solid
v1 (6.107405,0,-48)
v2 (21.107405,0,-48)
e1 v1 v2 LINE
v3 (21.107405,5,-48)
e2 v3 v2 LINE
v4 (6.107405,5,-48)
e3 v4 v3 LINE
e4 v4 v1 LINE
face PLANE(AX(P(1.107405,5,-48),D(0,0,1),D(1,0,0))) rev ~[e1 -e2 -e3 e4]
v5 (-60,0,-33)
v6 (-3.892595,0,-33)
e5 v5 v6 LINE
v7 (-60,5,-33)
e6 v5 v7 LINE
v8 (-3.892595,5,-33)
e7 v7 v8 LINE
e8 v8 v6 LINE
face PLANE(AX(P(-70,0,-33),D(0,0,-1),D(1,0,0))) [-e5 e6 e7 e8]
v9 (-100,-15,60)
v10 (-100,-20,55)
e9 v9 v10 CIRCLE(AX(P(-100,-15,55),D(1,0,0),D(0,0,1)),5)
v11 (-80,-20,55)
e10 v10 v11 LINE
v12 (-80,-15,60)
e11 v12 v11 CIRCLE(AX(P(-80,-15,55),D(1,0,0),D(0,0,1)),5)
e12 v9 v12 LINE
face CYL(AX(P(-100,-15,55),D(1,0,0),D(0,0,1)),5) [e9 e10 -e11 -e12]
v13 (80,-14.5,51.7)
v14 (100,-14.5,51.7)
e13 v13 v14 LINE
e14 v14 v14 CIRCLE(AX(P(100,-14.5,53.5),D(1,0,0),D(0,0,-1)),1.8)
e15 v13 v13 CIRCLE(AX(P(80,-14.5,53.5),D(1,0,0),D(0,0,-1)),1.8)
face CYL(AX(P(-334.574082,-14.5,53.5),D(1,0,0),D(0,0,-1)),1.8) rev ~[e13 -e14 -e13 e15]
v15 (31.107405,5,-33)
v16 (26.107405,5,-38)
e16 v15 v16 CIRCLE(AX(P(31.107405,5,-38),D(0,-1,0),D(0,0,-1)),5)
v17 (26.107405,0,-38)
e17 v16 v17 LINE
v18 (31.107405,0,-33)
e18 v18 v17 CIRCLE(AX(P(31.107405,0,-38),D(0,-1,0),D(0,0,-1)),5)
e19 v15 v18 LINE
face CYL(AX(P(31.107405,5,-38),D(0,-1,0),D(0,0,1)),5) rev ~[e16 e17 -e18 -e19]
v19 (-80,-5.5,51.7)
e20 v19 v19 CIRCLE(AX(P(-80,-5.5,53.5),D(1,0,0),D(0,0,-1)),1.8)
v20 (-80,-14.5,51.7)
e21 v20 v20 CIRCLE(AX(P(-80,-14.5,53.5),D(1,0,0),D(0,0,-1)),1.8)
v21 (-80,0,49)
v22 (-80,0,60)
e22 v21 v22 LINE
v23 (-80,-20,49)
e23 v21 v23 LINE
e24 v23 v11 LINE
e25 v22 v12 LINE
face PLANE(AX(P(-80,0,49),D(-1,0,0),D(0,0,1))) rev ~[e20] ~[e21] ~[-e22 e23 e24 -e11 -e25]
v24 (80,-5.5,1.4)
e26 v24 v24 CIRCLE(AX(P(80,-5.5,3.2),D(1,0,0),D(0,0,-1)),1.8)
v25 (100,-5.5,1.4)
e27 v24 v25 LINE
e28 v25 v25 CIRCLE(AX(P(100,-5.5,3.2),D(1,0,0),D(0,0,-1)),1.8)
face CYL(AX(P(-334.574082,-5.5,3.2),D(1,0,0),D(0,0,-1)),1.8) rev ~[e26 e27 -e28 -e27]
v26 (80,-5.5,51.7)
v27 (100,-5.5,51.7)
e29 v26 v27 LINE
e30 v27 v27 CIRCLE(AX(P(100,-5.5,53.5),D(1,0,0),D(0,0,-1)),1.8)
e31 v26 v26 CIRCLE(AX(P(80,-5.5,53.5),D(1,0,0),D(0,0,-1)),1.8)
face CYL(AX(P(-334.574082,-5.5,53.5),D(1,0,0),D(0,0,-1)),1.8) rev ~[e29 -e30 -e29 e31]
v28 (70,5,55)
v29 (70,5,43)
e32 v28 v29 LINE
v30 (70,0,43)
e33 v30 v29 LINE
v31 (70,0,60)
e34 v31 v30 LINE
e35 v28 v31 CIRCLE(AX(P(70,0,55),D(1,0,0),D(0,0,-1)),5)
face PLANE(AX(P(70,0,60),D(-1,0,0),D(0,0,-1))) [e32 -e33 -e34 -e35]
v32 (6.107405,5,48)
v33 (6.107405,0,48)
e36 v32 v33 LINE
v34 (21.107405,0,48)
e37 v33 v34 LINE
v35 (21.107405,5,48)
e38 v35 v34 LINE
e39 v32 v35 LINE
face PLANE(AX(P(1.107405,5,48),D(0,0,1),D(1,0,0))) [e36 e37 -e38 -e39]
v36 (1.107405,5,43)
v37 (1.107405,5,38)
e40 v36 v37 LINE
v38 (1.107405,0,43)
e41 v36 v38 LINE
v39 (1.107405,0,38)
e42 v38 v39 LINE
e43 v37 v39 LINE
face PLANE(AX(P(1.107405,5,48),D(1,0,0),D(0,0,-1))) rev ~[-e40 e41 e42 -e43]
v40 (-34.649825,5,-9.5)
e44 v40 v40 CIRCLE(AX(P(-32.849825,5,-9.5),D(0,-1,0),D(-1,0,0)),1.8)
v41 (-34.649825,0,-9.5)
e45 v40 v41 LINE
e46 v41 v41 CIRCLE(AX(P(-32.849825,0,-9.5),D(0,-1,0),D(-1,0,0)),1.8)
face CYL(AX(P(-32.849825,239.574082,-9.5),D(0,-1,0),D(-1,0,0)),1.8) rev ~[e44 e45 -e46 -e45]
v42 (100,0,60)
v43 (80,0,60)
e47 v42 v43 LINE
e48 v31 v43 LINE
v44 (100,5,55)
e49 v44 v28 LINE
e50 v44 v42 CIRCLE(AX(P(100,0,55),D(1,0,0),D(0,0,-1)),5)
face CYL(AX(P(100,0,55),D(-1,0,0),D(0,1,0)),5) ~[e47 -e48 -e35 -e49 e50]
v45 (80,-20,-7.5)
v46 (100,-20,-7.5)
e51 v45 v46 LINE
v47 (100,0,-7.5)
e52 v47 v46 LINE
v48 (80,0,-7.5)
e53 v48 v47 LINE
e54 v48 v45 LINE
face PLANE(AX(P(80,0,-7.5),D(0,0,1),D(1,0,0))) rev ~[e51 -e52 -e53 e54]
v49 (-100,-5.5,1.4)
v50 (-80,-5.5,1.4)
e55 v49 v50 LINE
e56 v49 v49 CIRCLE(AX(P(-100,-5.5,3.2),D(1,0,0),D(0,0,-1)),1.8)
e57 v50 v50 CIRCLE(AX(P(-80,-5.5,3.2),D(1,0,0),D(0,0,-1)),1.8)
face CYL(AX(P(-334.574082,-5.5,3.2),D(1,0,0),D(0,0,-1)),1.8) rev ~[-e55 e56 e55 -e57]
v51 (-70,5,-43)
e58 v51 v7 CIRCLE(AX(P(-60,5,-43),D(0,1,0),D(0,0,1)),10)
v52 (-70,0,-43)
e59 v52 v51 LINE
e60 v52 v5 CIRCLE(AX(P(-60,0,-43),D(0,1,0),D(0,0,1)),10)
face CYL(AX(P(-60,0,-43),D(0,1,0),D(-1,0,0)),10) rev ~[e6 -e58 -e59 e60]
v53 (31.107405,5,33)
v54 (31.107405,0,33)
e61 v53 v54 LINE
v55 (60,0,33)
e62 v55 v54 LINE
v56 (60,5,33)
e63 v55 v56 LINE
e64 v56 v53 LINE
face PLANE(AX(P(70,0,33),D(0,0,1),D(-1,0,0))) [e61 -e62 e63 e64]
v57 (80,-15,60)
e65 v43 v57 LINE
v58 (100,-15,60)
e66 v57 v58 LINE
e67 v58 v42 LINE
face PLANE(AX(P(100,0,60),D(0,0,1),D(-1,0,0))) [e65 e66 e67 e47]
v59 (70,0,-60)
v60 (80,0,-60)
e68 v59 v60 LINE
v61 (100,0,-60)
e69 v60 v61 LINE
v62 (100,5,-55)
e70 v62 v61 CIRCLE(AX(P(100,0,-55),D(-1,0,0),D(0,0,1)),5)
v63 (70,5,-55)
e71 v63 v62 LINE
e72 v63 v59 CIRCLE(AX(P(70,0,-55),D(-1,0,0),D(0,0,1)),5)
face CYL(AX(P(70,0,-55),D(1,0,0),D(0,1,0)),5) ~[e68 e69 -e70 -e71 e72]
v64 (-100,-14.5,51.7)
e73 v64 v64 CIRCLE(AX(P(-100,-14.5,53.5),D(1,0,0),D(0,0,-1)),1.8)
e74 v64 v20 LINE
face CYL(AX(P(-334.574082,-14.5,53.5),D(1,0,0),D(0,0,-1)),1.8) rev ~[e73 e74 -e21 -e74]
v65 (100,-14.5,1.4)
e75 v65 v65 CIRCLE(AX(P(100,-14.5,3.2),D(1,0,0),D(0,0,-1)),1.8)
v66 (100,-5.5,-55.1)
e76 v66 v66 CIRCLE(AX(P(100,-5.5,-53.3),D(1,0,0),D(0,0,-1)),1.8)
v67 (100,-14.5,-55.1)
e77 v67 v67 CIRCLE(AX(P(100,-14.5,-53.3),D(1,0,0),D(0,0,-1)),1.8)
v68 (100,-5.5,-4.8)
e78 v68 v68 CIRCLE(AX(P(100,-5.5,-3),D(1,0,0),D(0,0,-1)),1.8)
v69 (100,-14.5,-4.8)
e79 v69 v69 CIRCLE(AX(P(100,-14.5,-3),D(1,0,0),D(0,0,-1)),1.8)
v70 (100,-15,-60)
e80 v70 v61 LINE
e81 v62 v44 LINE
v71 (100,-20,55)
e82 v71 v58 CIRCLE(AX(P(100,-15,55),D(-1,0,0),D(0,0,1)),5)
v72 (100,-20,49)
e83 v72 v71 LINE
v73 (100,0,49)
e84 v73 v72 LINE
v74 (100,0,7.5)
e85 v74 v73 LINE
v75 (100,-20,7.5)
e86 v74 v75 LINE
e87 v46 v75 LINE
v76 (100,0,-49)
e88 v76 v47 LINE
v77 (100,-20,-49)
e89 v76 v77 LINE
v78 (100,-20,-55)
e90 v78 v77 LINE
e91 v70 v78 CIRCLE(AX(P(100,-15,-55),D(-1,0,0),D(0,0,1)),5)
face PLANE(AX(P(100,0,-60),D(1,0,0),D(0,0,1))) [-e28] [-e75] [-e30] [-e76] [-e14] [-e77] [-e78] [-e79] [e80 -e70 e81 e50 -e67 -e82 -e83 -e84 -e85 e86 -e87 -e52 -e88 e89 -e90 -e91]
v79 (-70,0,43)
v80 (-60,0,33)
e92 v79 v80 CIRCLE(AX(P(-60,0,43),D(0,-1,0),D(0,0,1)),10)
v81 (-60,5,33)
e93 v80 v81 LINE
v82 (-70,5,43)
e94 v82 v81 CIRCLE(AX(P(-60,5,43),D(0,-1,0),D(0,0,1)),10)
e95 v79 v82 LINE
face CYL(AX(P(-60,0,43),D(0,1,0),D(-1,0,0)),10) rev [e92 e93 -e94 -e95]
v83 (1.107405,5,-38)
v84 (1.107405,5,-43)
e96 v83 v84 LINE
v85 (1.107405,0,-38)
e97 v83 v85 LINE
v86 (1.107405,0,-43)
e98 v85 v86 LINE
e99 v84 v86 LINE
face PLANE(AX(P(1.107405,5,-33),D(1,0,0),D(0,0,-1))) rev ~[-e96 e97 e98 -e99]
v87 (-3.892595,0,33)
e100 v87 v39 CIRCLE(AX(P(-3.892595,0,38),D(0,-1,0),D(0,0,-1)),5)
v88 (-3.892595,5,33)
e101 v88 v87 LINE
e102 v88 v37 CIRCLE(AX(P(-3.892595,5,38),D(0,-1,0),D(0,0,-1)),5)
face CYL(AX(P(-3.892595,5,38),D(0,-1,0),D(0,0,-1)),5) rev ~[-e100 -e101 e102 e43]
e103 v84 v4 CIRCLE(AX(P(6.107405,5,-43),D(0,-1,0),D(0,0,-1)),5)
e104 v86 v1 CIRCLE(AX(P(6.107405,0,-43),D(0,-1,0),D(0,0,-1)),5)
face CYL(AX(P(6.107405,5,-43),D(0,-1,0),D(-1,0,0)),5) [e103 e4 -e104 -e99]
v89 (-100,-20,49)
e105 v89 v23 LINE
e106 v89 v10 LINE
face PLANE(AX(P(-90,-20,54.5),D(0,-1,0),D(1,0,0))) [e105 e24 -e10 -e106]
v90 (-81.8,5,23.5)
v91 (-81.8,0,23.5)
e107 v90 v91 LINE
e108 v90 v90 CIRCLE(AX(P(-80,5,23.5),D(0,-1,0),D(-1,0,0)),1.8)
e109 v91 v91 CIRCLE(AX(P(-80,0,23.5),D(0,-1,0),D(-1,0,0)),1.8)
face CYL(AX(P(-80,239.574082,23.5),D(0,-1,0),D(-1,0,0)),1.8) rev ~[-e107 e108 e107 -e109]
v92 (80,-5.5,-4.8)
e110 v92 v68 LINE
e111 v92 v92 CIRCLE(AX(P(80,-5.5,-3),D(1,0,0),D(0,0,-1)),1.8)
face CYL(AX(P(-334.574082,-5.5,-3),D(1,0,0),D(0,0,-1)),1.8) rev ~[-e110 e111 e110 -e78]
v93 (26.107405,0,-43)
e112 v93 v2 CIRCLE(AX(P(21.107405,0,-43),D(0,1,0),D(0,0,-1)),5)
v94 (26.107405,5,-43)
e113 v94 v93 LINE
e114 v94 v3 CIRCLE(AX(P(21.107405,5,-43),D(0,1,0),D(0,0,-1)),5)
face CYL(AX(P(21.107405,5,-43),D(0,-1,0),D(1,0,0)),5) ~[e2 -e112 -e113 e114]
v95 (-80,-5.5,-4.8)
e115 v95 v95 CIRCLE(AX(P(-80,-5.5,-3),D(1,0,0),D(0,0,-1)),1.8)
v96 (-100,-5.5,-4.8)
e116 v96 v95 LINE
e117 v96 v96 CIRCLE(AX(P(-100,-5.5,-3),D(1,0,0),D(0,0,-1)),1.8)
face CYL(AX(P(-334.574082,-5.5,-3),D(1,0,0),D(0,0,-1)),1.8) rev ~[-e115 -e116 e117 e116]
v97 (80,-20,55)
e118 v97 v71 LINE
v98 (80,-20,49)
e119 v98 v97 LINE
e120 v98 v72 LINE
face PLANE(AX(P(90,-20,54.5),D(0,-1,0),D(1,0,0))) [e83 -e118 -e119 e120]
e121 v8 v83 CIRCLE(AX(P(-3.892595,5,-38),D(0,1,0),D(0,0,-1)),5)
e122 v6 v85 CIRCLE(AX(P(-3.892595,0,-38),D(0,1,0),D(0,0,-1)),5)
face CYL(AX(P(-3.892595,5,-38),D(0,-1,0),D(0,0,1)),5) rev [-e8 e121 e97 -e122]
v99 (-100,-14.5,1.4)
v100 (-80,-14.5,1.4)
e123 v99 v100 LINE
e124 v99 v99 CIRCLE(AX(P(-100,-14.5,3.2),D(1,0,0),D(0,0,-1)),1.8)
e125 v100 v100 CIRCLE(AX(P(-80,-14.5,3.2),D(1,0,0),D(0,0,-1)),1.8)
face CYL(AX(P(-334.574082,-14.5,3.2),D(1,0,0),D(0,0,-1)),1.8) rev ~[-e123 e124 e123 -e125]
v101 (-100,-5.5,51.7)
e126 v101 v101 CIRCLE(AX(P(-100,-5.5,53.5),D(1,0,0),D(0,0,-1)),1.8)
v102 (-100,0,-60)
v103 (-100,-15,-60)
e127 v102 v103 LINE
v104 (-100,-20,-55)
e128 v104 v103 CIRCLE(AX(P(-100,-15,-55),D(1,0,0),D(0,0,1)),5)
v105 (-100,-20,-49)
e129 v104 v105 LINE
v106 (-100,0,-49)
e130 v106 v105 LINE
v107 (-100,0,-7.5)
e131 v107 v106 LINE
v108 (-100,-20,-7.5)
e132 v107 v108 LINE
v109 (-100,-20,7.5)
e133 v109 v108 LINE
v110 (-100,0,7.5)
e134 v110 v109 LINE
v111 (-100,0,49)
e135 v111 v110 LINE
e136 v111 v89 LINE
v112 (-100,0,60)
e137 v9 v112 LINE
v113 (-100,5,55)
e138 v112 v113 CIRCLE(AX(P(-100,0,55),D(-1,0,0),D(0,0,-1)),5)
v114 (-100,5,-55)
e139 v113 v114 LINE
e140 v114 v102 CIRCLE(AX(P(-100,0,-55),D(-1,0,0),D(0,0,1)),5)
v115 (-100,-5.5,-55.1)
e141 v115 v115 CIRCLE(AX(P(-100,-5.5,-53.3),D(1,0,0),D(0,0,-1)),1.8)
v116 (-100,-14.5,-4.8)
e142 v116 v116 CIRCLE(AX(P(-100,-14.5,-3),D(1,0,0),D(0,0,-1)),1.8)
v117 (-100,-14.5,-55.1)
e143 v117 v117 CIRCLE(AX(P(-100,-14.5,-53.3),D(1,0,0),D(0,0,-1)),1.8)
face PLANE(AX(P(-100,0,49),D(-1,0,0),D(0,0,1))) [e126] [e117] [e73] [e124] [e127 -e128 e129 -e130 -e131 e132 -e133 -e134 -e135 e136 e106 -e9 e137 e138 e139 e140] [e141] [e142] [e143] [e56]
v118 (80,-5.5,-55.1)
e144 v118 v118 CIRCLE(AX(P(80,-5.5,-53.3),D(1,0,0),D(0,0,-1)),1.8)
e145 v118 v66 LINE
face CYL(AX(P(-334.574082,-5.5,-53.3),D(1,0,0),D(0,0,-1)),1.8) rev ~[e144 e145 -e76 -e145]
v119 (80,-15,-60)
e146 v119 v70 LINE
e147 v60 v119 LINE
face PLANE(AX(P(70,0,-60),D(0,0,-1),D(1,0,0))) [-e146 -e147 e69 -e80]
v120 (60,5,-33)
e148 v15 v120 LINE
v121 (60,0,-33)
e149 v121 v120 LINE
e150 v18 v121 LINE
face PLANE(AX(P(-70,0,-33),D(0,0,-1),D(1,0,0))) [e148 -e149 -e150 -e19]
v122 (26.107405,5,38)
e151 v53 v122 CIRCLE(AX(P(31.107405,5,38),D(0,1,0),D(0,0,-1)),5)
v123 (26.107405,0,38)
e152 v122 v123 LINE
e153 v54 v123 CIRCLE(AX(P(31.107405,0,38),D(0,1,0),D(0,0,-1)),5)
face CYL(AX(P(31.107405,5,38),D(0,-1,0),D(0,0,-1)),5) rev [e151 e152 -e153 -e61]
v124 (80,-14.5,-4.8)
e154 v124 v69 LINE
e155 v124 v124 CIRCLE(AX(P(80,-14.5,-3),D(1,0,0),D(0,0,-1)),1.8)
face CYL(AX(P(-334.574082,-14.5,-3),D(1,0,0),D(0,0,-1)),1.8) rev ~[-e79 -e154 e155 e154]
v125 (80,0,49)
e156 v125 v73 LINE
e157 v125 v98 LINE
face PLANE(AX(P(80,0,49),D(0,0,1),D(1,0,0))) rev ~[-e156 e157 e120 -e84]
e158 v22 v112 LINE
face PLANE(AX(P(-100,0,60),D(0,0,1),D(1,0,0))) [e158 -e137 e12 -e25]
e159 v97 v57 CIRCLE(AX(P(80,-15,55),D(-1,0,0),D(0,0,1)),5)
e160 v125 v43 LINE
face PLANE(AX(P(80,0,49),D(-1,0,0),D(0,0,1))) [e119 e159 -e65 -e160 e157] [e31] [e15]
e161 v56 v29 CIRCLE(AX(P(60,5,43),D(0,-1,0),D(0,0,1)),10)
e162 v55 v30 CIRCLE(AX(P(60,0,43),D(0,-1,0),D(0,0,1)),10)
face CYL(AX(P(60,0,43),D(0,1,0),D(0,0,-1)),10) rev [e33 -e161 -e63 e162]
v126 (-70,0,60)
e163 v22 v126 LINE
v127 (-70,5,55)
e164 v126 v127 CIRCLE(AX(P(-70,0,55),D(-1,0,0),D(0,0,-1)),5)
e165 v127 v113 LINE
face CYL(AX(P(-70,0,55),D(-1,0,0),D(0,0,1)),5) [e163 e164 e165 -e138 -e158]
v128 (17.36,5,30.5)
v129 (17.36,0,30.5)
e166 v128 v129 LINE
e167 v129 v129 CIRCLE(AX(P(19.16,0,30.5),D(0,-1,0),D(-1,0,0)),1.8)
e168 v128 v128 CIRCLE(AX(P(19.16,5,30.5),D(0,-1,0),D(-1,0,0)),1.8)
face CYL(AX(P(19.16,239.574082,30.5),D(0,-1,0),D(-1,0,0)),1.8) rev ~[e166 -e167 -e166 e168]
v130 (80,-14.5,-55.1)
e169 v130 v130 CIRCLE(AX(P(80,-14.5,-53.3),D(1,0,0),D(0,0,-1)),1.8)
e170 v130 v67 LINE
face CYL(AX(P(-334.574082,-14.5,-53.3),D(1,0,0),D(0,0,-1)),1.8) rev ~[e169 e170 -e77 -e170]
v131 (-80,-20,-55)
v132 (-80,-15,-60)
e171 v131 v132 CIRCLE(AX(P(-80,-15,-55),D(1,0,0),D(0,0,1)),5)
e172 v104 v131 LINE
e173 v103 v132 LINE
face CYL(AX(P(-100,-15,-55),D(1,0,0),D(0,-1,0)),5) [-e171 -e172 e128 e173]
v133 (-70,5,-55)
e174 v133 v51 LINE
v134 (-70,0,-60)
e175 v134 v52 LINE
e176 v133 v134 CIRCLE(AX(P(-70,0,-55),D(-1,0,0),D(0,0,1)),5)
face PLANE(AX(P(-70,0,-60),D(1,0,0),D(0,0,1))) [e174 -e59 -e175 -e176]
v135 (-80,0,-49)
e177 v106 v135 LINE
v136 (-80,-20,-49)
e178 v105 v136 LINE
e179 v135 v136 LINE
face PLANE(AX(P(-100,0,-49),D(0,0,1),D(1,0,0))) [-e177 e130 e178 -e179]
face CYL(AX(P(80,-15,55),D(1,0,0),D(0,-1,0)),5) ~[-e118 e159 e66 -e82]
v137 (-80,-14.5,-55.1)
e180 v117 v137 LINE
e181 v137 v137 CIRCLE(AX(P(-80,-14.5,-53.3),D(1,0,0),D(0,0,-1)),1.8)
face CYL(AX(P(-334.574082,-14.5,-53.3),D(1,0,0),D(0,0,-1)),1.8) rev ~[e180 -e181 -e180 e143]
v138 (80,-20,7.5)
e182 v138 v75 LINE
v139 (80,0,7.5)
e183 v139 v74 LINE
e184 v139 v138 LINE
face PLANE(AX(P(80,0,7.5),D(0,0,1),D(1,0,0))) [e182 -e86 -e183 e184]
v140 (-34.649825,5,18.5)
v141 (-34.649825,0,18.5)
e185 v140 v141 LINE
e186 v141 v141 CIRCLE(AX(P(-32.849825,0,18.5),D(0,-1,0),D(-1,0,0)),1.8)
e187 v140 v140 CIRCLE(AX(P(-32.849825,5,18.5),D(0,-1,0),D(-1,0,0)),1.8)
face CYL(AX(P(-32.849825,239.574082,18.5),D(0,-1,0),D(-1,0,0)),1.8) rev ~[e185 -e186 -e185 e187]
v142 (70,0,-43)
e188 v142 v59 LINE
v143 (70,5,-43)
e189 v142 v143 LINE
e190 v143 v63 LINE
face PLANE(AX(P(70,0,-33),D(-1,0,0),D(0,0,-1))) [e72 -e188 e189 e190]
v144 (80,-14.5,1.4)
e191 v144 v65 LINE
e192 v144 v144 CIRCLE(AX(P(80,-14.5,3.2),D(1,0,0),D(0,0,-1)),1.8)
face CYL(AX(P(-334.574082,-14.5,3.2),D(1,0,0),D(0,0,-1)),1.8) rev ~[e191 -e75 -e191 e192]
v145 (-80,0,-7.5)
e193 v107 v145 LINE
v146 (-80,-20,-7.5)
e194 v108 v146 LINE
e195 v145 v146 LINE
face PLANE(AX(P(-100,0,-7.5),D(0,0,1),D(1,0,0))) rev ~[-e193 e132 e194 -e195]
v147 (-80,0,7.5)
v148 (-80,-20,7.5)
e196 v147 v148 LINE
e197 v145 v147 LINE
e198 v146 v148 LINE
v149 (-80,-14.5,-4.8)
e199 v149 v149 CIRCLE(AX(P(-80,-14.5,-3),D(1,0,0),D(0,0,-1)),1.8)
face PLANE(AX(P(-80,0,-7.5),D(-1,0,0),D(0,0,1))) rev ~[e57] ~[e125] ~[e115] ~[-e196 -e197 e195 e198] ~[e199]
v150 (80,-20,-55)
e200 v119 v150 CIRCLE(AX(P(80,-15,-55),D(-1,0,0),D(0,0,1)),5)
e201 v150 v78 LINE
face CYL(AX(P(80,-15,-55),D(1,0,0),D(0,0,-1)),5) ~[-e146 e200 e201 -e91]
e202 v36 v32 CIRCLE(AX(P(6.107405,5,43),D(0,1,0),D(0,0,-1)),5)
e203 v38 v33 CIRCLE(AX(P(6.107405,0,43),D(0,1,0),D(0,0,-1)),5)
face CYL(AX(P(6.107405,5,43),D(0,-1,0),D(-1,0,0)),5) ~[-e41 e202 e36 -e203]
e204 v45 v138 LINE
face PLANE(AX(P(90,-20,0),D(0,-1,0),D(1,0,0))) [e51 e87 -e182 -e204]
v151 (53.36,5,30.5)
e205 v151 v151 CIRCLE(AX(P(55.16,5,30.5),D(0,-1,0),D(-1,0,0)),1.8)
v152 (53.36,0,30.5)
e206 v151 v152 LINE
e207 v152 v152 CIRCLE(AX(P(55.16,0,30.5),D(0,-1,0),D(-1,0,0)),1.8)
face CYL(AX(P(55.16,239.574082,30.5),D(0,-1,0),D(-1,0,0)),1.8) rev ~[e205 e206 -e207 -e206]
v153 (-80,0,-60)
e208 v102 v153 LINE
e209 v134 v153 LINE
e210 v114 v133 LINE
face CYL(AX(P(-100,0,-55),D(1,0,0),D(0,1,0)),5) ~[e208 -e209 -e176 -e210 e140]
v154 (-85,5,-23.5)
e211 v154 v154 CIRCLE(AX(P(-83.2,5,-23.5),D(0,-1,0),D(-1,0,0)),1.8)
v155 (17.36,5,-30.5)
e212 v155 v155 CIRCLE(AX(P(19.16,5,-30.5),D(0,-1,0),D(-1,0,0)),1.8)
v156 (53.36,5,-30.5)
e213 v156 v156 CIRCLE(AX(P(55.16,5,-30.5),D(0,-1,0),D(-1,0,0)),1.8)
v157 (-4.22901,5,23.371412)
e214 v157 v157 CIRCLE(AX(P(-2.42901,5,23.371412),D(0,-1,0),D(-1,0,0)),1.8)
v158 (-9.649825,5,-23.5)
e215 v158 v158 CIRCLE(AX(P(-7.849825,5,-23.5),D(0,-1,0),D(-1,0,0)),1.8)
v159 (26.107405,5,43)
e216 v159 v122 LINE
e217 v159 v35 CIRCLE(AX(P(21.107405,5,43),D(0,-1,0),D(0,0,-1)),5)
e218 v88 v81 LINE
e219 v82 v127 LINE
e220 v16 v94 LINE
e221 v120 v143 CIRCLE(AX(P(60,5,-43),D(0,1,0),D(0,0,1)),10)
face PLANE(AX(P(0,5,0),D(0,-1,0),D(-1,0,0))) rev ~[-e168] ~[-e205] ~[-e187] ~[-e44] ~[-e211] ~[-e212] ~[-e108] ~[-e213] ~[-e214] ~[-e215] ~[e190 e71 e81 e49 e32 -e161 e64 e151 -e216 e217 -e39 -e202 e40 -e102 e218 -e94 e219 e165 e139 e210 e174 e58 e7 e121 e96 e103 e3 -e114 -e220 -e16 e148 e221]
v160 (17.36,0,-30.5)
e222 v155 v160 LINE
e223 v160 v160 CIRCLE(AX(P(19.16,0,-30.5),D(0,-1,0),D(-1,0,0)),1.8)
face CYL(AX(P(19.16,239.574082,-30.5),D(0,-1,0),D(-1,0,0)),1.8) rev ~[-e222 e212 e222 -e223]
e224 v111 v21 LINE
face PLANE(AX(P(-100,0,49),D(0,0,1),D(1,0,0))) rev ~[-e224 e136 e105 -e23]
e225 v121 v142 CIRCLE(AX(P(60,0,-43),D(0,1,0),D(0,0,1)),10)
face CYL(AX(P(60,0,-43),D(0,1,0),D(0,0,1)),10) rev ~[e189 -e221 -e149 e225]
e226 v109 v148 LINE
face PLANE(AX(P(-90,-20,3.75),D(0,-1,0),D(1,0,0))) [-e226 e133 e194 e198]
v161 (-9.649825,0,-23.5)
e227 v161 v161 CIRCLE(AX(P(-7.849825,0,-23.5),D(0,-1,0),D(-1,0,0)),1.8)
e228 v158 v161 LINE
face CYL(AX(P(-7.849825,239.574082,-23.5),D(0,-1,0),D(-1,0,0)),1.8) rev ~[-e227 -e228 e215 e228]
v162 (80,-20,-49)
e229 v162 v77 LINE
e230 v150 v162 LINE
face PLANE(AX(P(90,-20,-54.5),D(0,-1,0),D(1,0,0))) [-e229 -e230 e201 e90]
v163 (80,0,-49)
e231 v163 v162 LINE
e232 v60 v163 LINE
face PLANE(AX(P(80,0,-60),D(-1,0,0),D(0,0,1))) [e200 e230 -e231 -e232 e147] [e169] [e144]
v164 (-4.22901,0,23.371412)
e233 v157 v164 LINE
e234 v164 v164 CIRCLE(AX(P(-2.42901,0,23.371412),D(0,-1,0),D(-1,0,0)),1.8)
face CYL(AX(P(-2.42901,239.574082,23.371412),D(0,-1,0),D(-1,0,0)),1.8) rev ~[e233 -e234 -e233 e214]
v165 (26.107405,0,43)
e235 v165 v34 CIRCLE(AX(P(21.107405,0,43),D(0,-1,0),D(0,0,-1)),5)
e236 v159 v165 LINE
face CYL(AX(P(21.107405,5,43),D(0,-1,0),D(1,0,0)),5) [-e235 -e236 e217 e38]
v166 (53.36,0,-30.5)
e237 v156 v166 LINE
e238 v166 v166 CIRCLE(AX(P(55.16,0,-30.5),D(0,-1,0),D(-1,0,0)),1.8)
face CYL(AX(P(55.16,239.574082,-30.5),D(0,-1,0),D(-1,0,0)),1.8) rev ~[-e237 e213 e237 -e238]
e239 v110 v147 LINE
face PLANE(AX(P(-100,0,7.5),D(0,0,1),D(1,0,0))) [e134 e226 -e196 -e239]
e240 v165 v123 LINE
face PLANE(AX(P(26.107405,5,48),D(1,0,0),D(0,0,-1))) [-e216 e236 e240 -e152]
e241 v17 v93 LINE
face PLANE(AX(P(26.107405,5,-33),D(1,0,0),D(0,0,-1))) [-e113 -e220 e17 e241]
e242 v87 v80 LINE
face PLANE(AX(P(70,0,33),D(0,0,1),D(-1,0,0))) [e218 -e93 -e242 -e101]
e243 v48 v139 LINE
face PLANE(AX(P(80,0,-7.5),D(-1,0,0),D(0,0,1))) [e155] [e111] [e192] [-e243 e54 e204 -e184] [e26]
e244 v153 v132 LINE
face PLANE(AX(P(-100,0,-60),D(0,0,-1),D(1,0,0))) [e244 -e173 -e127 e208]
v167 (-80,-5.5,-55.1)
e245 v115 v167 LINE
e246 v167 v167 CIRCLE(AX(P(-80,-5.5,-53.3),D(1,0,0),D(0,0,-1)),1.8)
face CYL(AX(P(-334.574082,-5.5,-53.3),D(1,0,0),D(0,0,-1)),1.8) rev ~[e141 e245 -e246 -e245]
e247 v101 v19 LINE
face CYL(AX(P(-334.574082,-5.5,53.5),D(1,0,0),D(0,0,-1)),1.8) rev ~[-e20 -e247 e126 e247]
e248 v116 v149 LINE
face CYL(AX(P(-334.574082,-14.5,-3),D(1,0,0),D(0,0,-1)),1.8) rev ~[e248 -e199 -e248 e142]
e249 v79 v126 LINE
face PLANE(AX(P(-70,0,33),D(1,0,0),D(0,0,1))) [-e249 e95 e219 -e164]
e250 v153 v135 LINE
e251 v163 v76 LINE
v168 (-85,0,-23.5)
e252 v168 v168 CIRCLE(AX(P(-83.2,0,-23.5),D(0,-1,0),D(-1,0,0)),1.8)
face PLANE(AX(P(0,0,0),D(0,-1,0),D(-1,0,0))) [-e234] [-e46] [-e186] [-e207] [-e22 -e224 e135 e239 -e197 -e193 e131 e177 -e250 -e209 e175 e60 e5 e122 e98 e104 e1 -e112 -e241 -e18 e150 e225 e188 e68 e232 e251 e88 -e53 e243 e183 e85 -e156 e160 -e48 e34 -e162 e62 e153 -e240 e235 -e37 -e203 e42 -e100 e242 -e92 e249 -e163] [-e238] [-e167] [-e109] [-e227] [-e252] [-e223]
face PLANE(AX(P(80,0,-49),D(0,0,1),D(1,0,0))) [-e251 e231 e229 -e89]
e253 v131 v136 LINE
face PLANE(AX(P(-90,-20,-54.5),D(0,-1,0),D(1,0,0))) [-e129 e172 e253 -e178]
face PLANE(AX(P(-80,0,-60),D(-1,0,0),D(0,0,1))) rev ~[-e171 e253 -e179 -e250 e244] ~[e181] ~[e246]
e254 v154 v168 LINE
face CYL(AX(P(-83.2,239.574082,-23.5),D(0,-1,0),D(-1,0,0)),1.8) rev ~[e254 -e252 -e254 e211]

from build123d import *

# Parameters (mm, degrees)
EXTRUDE_1_DEPTH    = 5
SKETCH_3_W         = 20
SKETCH_3_H         = 11
SKETCH_3_H_2       = 7.5
SKETCH_3_H_3       = 15
EXTRUDE_2_DEPTH    = 20
FILLET_1_R         = 5
FILLET_2_R         = 5
HOLE_WIZARD_M3_1_D = 3.6
FILLET_3_R         = 10
HOLE_WIZARD_M3_2_D = 3.6
HOLE_WIZARD_M3_3_D = 3.6
SKETCH_15_W        = 25
SKETCH_15_H        = 15
EXTRUDE_5_DEPTH    = 5
FILLET_8_R         = 5


with BuildPart() as part:
    # 스케치1 → 보스-돌출1 (new body)
    with BuildSketch(Plane(origin=(0, 0, 0), x_dir=(1, 0, 0), z_dir=(0, 1, 0))):
        Polygon((-100, 60), (-70, 60), (-70, 33), (70, 33), (70, 60), (100, 60), (100, -60), (70, -60), (70, -33), (-70, -33), (-70, -60), (-100, -60), align=None)
    extrude(amount=EXTRUDE_1_DEPTH)

    # 스케치3 → 보스-돌출2 (add)
    with BuildSketch(Plane.XZ):
        with Locations((-90, 54.5)):
            Rectangle(SKETCH_3_W, SKETCH_3_H)
        with Locations((-90, 3.75)):
            Rectangle(SKETCH_3_W, SKETCH_3_H_2)
        with Locations((-90, -3.75)):
            Rectangle(SKETCH_3_W, SKETCH_3_H_2)
        with Locations((-90, -54.5)):
            Rectangle(SKETCH_3_W, SKETCH_3_H)
        with Locations((90, 54.5)):
            Rectangle(SKETCH_3_W, SKETCH_3_H)
        with Locations((90, 0)):
            Rectangle(SKETCH_3_W, SKETCH_3_H_3)
        with Locations((90, -54.5)):
            Rectangle(SKETCH_3_W, SKETCH_3_H)
    extrude(amount=EXTRUDE_2_DEPTH)

    # 필렛1
    fillet_1_edges = [part.edges().sort_by_distance(p)[0] for p in [
        (-90, -20, 60),
        (-90, -20, -60),
        (90, -20, 60),
        (90, -20, -60),
    ]]
    fillet(fillet_1_edges, radius=FILLET_1_R)

    # 필렛2
    fillet_2_edges = [part.edges().sort_by_distance(p)[0] for p in [
        (-85, 5, -60),
        (85, 5, -60),
        (85, 5, 60),
        (-85, 5, 60),
    ]]
    fillet(fillet_2_edges, radius=FILLET_2_R)

    # M3 여유 구멍1 (through all)
    with Locations(Plane.ZY.offset(100)):
        with Locations((-3, -5.5), (-3, -14.5), (3.2, -14.5), (3.2, -5.5), (-53.3, -5.5), (-53.3, -14.5), (53.5, -5.5), (53.5, -14.5)):
            Hole(HOLE_WIZARD_M3_1_D / 2)

    # 필렛3
    fillet_3_edges = [part.edges().sort_by_distance(p)[0] for p in [
        (70, 2.5, 33),
        (-70, 2.5, 33),
        (-70, 2.5, -33),
        (70, 2.5, -33),
    ]]
    fillet(fillet_3_edges, radius=FILLET_3_R)

    # M3 여유 구멍2 (through all)
    with Locations(Plane(origin=(0, 5, 0), x_dir=(1, 0, 0), z_dir=(0, 1, 0))):
        with Locations((55.16, 30.5), (19.16, 30.5), (19.16, -30.5), (55.16, -30.5), (57.992156997, -54.362225267)):
            Hole(HOLE_WIZARD_M3_2_D / 2)

    # M3 여유 구멍3 (through all)
    with Locations(Plane(origin=(0, 5, 0), x_dir=(1, 0, 0), z_dir=(0, 1, 0))):
        with Locations((-32.84982536, 9.5), (-2.42900992, -23.37141197), (-7.84982536, 23.5), (-32.84982536, -18.5), (-80, -23.5), (-83.2, 23.5)):
            Hole(HOLE_WIZARD_M3_3_D / 2)

    # 스케치15 → 보스-돌출5 (add)
    with BuildSketch(Plane(origin=(0, 5, 0), x_dir=(1, 0, 0), z_dir=(0, 1, 0))):
        with Locations((13.607404661, -40.5)):
            Rectangle(SKETCH_15_W, SKETCH_15_H)
        with Locations((13.607404661, 40.5)):
            Rectangle(SKETCH_15_W, SKETCH_15_H)
    extrude(amount=-EXTRUDE_5_DEPTH)

    # 필렛8
    fillet_8_edges = [part.edges().sort_by_distance(p)[0] for p in [
        (1.107404661, 2.5, 48),
        (1.107404661, 2.5, 33),
        (26.107404661, 2.5, 33),
        (26.107404661, 2.5, 48),
        (1.107404661, 2.5, -33),
        (1.107404661, 2.5, -48),
        (26.107404661, 2.5, -48),
        (26.107404661, 2.5, -33),
    ]]
    fillet(fillet_8_edges, radius=FILLET_8_R)


solid = part.part
